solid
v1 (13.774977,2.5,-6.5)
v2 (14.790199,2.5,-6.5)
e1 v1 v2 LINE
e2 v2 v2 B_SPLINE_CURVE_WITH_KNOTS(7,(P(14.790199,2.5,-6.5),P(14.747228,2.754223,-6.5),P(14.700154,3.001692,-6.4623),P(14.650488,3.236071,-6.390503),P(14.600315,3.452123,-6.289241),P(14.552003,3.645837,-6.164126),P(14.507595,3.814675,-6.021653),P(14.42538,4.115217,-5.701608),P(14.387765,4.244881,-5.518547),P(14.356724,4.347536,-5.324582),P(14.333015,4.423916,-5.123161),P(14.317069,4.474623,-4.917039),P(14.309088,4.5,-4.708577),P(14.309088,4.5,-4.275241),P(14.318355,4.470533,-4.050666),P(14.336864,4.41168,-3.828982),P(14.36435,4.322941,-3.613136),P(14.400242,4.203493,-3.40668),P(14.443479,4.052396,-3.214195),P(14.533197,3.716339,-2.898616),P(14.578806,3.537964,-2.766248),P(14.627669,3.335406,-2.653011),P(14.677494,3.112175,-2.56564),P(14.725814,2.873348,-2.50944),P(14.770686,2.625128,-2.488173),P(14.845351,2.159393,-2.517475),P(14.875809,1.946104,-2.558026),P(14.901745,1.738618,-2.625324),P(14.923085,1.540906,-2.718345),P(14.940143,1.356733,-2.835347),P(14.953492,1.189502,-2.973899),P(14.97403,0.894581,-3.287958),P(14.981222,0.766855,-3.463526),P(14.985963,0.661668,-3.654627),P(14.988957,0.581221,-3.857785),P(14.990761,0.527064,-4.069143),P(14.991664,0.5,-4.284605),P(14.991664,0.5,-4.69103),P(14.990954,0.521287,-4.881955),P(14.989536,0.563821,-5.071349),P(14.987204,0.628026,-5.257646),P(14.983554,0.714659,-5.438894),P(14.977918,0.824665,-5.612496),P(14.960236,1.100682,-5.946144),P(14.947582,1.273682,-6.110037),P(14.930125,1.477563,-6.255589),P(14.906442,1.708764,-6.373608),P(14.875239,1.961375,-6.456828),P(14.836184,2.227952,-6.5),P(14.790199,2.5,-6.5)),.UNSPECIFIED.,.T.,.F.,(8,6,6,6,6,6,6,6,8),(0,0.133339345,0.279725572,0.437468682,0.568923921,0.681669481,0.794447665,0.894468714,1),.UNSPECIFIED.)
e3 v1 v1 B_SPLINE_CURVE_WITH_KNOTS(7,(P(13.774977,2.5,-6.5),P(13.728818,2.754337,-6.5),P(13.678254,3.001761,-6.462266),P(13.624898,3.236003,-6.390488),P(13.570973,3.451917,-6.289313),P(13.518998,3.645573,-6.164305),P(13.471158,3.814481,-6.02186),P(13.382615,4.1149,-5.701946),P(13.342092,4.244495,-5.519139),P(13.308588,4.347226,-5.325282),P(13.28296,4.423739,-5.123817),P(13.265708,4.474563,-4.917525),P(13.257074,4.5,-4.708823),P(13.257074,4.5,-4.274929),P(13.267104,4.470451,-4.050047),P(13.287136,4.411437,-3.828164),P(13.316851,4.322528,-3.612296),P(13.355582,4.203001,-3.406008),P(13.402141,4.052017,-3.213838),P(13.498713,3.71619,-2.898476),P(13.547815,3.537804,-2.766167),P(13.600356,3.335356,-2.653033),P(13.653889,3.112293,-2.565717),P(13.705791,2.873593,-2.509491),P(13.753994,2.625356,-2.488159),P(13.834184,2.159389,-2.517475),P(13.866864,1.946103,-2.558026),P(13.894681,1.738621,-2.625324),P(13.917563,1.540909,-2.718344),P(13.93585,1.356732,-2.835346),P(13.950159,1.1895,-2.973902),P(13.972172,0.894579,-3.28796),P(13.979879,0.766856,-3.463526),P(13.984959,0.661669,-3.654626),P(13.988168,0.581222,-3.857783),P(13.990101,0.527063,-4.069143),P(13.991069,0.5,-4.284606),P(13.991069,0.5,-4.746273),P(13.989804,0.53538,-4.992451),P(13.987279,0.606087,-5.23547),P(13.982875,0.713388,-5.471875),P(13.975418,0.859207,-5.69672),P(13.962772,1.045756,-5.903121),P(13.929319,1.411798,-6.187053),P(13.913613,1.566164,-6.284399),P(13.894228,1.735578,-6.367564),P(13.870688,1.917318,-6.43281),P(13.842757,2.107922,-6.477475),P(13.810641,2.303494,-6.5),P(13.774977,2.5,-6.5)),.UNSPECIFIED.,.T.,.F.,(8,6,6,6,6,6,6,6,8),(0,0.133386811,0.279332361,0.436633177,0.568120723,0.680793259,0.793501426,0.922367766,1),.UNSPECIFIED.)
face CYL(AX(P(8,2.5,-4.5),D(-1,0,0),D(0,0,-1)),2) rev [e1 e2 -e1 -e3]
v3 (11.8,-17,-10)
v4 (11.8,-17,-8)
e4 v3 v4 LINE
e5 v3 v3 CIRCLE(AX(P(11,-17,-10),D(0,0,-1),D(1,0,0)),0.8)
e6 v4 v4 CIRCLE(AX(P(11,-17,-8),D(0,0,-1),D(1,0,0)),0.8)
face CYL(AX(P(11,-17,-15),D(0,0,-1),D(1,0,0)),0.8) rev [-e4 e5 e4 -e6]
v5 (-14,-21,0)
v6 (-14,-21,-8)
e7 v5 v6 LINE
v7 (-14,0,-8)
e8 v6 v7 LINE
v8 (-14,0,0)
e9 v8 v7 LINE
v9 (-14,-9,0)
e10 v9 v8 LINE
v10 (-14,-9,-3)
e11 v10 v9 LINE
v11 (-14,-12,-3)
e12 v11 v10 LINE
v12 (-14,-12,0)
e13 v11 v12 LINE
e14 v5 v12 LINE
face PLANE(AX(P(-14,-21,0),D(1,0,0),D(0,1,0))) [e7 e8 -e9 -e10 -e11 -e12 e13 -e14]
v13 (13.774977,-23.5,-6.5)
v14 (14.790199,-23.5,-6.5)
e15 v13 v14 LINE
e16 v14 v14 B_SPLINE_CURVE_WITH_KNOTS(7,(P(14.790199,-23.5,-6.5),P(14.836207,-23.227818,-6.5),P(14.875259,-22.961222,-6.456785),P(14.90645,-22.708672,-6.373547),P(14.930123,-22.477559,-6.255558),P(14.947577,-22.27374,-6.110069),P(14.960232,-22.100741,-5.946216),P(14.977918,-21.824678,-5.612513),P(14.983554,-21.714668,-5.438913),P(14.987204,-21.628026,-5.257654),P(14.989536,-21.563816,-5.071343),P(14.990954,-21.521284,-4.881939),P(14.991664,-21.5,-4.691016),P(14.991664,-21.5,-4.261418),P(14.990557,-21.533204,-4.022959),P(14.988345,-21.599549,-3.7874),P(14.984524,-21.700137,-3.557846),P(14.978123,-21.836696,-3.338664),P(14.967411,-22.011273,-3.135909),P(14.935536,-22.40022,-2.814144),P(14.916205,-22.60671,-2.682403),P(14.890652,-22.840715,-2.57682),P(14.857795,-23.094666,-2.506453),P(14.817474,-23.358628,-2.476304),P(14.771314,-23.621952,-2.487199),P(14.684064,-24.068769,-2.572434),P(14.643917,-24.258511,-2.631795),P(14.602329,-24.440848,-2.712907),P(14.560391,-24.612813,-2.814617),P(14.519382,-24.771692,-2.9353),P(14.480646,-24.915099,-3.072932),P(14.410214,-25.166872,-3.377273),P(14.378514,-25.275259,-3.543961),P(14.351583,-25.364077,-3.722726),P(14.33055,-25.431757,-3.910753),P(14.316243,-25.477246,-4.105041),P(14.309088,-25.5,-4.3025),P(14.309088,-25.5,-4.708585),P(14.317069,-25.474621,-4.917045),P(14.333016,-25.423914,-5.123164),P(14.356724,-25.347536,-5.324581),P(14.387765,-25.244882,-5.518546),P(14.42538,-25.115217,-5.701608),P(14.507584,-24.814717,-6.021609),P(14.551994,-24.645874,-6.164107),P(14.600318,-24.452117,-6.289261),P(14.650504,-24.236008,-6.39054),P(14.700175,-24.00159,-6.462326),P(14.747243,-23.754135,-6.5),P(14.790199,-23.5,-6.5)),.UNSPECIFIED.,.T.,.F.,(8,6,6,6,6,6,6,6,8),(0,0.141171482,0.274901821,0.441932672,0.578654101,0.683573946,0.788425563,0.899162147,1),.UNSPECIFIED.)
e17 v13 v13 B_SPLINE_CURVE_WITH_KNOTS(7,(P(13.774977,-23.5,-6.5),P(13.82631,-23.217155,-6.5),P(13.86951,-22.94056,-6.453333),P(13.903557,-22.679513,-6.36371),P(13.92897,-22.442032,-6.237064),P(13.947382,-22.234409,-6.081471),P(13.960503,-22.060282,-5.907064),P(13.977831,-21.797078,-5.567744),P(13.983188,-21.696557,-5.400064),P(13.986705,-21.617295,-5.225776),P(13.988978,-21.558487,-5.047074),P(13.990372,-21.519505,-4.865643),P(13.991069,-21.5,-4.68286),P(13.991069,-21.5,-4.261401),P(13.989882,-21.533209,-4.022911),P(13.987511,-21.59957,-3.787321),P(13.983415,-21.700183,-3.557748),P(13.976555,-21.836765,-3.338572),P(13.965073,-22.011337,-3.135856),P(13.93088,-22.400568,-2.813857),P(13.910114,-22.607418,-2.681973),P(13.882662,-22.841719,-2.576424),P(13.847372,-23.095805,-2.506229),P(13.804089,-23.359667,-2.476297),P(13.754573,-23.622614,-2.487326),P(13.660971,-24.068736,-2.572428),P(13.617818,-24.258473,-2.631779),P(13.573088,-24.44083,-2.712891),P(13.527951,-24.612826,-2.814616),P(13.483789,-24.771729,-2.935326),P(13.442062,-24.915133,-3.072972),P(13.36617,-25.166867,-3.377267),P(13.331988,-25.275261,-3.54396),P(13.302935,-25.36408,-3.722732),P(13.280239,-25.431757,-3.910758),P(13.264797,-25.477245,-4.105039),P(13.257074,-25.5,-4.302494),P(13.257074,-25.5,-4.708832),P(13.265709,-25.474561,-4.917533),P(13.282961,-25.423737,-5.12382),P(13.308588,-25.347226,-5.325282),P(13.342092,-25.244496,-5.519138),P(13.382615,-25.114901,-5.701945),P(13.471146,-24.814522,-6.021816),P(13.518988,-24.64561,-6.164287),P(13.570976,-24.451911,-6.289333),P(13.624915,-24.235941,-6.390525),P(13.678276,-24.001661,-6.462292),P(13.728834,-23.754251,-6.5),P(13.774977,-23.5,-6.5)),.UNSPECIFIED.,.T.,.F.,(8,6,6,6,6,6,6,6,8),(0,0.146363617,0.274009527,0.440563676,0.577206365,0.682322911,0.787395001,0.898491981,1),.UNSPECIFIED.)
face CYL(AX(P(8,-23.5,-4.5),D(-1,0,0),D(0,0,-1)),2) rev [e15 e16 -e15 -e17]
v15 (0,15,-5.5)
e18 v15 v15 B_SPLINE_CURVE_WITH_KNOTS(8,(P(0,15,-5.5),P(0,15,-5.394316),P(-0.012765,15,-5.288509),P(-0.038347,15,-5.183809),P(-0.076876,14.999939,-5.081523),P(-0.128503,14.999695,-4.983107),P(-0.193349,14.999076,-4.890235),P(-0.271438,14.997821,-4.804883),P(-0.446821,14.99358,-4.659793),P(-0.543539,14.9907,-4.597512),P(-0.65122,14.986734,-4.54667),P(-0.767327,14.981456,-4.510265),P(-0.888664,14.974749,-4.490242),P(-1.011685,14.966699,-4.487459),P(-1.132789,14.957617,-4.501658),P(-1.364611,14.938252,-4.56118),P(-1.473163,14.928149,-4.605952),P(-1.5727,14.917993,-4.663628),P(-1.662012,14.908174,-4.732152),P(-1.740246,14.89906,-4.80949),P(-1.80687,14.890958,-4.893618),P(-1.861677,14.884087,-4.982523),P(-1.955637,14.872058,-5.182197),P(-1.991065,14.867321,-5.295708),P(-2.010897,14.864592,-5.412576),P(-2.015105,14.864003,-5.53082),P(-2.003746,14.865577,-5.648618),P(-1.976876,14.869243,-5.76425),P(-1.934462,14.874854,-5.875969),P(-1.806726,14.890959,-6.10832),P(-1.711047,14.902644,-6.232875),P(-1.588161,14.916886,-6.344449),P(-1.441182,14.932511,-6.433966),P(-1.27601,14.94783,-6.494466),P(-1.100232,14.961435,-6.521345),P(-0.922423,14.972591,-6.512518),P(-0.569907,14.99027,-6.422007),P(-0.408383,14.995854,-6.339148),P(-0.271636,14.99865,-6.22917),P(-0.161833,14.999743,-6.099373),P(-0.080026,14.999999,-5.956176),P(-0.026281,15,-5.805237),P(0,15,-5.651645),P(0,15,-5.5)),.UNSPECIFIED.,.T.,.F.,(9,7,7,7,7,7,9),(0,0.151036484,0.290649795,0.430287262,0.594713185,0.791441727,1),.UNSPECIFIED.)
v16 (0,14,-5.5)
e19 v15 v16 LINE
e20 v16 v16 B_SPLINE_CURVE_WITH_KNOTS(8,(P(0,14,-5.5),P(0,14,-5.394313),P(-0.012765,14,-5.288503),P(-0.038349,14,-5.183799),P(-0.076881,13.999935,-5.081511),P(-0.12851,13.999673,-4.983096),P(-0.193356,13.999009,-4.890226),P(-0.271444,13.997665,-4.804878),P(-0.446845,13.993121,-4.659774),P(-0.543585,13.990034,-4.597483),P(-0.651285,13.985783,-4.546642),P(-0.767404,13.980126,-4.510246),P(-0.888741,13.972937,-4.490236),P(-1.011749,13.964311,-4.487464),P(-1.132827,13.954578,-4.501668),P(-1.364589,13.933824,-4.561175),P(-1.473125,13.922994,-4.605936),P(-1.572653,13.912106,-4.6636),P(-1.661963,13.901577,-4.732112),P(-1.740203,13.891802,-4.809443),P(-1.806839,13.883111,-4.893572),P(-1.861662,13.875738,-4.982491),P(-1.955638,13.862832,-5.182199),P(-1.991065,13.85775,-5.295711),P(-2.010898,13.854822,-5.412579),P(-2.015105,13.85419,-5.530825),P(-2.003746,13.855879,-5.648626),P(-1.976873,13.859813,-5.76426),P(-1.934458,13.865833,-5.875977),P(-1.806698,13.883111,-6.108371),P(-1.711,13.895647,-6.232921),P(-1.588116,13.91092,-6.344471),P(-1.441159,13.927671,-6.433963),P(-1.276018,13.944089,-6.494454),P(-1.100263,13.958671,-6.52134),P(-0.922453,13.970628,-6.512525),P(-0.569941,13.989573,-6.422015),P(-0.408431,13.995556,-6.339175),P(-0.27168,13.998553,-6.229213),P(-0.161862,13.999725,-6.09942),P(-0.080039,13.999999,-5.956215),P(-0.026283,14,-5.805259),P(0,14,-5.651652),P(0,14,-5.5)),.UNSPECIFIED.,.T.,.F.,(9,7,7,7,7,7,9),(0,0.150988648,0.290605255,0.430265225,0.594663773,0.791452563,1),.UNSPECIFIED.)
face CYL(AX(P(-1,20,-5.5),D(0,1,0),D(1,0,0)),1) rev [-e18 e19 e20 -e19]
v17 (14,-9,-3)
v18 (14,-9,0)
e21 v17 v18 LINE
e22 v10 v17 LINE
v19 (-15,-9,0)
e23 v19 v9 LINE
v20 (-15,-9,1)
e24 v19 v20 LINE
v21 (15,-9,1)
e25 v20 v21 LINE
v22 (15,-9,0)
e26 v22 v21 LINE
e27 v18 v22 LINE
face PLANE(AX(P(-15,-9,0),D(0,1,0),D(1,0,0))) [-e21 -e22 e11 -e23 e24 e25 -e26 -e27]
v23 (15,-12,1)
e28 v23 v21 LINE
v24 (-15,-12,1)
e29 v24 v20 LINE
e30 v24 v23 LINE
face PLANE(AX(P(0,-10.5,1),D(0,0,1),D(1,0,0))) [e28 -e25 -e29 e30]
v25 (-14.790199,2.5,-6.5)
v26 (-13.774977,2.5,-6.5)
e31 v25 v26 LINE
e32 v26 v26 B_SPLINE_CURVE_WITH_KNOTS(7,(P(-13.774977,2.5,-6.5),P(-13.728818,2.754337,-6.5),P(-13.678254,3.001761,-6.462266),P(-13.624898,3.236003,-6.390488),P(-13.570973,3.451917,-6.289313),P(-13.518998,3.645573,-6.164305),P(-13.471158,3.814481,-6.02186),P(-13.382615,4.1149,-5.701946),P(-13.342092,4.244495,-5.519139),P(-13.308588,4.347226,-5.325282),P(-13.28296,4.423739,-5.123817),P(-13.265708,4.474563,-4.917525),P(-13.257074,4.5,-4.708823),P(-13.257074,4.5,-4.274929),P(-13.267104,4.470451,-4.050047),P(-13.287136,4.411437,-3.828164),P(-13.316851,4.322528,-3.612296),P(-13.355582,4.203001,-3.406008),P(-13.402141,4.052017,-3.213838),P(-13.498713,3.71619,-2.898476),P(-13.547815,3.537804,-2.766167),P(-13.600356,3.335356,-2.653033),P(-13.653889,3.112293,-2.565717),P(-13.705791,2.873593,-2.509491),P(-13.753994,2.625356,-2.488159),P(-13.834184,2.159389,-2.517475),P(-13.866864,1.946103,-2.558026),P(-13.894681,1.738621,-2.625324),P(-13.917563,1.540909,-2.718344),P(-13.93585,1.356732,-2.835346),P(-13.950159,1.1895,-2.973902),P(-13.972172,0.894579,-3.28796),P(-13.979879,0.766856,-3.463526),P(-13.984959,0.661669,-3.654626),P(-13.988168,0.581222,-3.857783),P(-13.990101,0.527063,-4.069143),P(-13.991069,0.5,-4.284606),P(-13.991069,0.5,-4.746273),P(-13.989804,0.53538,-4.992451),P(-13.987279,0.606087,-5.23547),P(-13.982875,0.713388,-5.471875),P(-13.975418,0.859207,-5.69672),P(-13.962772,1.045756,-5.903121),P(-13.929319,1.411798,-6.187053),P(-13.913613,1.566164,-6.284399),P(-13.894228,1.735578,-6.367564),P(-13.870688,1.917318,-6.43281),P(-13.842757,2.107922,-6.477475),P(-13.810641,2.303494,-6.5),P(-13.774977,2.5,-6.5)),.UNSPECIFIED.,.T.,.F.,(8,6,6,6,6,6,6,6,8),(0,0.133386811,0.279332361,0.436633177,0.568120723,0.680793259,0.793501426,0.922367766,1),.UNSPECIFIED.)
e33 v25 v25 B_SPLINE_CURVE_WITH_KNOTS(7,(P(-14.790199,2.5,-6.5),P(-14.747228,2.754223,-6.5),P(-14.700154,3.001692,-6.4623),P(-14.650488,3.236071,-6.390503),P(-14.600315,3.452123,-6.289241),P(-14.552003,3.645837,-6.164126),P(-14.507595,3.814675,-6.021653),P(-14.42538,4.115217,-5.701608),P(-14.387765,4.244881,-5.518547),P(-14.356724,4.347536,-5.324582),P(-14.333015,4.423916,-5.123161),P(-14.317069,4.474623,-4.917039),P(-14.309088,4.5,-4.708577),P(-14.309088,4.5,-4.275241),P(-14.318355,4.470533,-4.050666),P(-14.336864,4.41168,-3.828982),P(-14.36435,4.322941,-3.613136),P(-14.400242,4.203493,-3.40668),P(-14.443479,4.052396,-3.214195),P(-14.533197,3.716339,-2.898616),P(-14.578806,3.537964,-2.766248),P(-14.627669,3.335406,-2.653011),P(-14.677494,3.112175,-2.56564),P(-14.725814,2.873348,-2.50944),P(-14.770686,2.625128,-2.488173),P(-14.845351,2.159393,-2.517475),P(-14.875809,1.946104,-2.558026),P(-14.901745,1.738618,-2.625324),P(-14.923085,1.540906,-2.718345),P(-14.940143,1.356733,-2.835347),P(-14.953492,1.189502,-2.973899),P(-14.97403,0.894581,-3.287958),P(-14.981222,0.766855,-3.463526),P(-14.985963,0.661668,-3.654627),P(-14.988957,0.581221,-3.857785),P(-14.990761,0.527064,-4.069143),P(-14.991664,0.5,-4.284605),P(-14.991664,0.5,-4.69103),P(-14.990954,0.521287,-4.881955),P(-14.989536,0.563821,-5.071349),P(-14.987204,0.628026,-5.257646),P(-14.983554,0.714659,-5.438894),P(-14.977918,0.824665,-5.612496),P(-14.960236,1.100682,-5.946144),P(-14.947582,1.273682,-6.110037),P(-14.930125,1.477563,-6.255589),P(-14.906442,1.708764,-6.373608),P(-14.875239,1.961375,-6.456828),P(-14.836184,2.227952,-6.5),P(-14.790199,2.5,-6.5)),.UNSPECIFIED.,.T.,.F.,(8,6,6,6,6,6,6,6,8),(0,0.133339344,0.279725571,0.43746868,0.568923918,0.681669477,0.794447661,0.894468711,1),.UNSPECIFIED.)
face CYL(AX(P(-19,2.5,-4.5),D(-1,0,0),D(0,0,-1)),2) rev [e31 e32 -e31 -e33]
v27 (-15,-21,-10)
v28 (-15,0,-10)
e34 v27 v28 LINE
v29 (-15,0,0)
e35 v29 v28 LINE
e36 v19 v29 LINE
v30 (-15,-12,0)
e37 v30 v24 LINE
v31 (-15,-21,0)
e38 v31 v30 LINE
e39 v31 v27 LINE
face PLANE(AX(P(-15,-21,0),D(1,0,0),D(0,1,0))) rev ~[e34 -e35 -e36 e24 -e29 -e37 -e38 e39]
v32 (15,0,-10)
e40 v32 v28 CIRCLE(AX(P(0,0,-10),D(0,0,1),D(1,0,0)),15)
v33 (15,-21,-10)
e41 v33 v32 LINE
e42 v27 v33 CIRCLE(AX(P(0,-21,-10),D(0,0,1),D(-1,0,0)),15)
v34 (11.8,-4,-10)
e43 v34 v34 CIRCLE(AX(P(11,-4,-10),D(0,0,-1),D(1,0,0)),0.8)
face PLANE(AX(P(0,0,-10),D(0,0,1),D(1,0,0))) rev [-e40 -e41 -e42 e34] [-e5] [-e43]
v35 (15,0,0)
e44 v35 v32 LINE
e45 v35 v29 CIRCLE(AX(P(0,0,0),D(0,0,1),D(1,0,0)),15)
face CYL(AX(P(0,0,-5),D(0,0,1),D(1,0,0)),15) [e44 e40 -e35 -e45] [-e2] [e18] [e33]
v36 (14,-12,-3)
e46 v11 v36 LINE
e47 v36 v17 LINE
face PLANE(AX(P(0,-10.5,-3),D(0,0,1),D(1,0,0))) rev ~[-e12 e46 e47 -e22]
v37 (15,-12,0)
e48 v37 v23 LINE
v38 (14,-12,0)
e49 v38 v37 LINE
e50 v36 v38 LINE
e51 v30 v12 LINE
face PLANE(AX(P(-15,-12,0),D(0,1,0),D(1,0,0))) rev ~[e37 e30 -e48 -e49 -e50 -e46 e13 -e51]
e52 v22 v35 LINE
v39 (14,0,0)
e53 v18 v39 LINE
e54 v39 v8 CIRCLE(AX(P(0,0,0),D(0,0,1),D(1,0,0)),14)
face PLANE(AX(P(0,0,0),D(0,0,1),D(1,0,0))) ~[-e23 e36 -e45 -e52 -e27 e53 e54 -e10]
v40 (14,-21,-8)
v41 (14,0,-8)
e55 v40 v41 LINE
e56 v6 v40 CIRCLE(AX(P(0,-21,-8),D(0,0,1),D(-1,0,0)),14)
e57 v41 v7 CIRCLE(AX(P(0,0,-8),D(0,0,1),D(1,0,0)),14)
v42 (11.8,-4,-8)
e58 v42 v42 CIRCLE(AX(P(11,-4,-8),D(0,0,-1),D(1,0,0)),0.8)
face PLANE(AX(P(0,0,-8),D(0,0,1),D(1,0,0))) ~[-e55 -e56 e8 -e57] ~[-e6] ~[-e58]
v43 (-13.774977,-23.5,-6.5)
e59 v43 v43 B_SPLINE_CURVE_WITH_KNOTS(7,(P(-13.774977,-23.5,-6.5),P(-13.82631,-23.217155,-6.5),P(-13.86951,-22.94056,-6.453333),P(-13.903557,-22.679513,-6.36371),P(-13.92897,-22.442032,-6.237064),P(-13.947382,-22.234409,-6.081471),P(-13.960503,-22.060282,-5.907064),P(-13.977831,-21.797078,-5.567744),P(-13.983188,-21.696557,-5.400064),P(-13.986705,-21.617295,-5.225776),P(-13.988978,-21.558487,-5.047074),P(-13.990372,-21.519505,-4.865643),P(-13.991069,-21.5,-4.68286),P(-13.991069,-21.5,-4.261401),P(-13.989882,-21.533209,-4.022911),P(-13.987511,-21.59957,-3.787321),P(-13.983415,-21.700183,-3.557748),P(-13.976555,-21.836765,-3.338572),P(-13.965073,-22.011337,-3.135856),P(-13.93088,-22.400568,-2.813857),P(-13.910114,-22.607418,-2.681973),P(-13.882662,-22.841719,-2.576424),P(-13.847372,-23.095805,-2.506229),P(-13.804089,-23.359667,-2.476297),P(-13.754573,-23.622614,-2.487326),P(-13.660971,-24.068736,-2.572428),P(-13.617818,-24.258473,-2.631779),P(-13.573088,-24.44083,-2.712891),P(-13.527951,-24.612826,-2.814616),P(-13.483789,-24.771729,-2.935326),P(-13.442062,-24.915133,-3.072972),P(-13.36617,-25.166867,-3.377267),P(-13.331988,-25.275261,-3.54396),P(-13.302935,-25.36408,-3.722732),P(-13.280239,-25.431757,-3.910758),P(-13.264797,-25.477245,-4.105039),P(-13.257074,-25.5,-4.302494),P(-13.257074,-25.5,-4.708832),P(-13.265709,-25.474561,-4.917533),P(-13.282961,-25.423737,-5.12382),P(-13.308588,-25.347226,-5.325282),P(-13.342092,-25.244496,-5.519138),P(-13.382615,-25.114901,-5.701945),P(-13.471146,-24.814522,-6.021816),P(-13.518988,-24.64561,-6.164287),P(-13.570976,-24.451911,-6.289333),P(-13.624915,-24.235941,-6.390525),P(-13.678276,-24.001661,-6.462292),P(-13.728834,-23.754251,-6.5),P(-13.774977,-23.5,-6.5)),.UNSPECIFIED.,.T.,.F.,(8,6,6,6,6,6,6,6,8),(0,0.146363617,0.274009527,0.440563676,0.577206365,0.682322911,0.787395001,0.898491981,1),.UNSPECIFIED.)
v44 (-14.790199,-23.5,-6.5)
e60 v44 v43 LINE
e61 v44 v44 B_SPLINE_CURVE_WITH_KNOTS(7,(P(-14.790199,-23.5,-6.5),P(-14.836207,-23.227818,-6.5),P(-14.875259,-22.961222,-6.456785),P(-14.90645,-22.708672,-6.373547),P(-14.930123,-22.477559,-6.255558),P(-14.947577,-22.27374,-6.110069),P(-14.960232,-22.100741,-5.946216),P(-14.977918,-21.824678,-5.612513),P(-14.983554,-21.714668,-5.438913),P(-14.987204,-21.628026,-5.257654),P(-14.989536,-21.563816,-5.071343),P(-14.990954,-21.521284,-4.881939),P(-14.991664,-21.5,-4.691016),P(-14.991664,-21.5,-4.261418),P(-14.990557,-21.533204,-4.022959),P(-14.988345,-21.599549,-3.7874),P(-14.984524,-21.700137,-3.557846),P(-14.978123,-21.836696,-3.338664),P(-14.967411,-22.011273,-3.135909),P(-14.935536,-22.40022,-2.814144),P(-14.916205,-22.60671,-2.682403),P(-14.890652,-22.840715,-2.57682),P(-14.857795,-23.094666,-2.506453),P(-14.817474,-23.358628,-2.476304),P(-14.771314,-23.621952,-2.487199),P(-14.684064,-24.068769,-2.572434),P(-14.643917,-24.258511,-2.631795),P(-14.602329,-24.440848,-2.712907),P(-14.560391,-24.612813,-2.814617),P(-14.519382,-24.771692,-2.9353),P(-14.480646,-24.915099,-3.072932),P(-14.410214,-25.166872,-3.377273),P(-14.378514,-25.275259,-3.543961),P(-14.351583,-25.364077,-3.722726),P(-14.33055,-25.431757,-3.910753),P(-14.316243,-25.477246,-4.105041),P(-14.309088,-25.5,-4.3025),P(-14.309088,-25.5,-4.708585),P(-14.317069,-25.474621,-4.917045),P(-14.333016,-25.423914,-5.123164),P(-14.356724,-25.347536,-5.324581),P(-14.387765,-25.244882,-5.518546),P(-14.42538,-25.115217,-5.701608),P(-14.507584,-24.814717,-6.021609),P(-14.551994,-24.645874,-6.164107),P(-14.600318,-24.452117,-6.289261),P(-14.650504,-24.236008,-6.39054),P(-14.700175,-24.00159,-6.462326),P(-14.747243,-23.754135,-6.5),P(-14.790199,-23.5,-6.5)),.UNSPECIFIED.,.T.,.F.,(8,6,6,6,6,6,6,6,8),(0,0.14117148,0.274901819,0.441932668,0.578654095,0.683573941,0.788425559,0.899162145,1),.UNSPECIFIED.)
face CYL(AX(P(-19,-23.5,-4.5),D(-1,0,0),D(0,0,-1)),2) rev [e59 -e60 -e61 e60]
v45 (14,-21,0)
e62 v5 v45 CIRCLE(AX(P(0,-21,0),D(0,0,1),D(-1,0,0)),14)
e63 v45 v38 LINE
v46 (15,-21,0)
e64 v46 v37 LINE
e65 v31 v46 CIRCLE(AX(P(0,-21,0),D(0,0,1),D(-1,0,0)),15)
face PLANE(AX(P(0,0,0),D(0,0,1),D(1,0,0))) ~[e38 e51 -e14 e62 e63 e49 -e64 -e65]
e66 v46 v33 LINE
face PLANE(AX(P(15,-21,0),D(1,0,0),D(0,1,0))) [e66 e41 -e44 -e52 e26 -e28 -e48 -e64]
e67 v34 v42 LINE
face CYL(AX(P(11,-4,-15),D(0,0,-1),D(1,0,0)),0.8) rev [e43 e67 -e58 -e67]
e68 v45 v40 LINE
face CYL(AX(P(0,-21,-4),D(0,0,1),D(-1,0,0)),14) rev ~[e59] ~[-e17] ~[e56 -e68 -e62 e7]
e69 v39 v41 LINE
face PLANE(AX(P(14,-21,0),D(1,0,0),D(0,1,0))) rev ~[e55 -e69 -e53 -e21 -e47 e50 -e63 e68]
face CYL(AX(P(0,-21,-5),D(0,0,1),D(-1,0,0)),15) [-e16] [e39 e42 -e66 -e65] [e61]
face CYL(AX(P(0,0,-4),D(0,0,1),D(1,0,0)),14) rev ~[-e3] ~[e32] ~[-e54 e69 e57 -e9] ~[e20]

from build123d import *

# Parameters (mm, degrees)
CYLINDER049_R           = 0.8
CYLINDER049_DEPTH       = 10
CYLINDER048_R           = 0.8
CYLINDER048_DEPTH       = 10
CYLINDER017_R           = 1
CYLINDER017_DEPTH       = 10
CYLINDER017_ROLL_ANGLE  = 90
CYLINDER011_R           = 2
CYLINDER011_DEPTH       = 10
CYLINDER011_PITCH_ANGLE = 90
CYLINDER014_R           = 2
CYLINDER014_DEPTH       = 10
CYLINDER014_PITCH_ANGLE = 90
CYLINDER013_R           = 2
CYLINDER013_DEPTH       = 10
CYLINDER013_PITCH_ANGLE = 90
CYLINDER015_R           = 2
CYLINDER015_DEPTH       = 10
CYLINDER015_PITCH_ANGLE = 90
CYLINDER002_W           = 14
CYLINDER002_H           = 8
CYLINDER002_ANGLE       = 180
CYLINDER001_W           = 15
CYLINDER001_H           = 10
CYLINDER001_ANGLE       = 180
CYLINDER003_W           = 14
CYLINDER003_H           = 8
CYLINDER003_ANGLE       = 180
CYLINDER_W              = 15
CYLINDER_H              = 10
CYLINDER_ANGLE          = 180
BOX001_W                = 28
BOX001_H                = 21
BOX001_DEPTH            = 8
BOX_W                   = 30
BOX_H                   = 21
BOX_DEPTH               = 10
FUSION_PLACEMENT_ANGLE  = 180
BOX014_W                = 28
BOX014_H                = 3
BOX014_DEPTH            = 3
BOX007_W                = 30
BOX007_H                = 3
BOX007_DEPTH            = 1


with BuildPart() as cilindro049:
    # Cylinder049 → Cylinder049 (new body)
    with BuildSketch(Plane(origin=(11, -17, -15), x_dir=(1, 0, 0), z_dir=(0, 0, 1))):
        Circle(CYLINDER049_R)
    extrude(amount=CYLINDER049_DEPTH)


with BuildPart() as cilindro048:
    # Cylinder048 → Cylinder048 (new body)
    with BuildSketch(Plane(origin=(11, -4, -15), x_dir=(1, 0, 0), z_dir=(0, 0, 1))):
        Circle(CYLINDER048_R)
    extrude(amount=CYLINDER048_DEPTH)


with BuildPart() as cilindro017:
    # Cylinder017 → Cylinder017 (new body)
    with BuildSketch(Plane.XY):
        Circle(CYLINDER017_R)
    extrude(amount=CYLINDER017_DEPTH)


with BuildPart() as cilindro017_1:
    # Cylinder017 roll: moved
    add(cilindro017.part.rotate(Axis((0, 0, 0), (1, 0, 0)), CYLINDER017_ROLL_ANGLE))


with BuildPart() as cilindro017_2:
    # Cylinder017 placement: moved
    add(cilindro017_1.part.moved(Location((-14, 90, 38.5))))


with BuildPart() as cilindro011:
    # Cylinder011 → Cylinder011 (new body)
    with BuildSketch(Plane.XY):
        Circle(CYLINDER011_R)
    extrude(amount=CYLINDER011_DEPTH)


with BuildPart() as cilindro011_1:
    # Cylinder011 pitch: moved
    add(cilindro011.part.rotate(Axis((0, 0, 0), (0, 1, 0)), CYLINDER011_PITCH_ANGLE))


with BuildPart() as cilindro011_2:
    # Cylinder011 placement: moved
    add(cilindro011_1.part.moved(Location((-32, 72.5, 39.5))))


with BuildPart() as cilindro014:
    # Cylinder014 → Cylinder014 (new body)
    with BuildSketch(Plane.XY):
        Circle(CYLINDER014_R)
    extrude(amount=CYLINDER014_DEPTH)


with BuildPart() as cilindro014_1:
    # Cylinder014 pitch: moved
    add(cilindro014.part.rotate(Axis((0, 0, 0), (0, 1, 0)), CYLINDER014_PITCH_ANGLE))


with BuildPart() as cilindro014_2:
    # Cylinder014 placement: moved
    add(cilindro014_1.part.moved(Location((-5, 46.5, 39.5))))


with BuildPart() as cilindro013:
    # Cylinder013 → Cylinder013 (new body)
    with BuildSketch(Plane.XY):
        Circle(CYLINDER013_R)
    extrude(amount=CYLINDER013_DEPTH)


with BuildPart() as cilindro013_1:
    # Cylinder013 pitch: moved
    add(cilindro013.part.rotate(Axis((0, 0, 0), (0, 1, 0)), CYLINDER013_PITCH_ANGLE))


with BuildPart() as cilindro013_2:
    # Cylinder013 placement: moved
    add(cilindro013_1.part.moved(Location((-32, 46.5, 39.5))))


with BuildPart() as cilindro015:
    # Cylinder015 → Cylinder015 (new body)
    with BuildSketch(Plane.XY):
        Circle(CYLINDER015_R)
    extrude(amount=CYLINDER015_DEPTH)


with BuildPart() as cilindro015_1:
    # Cylinder015 pitch: moved
    add(cilindro015.part.rotate(Axis((0, 0, 0), (0, 1, 0)), CYLINDER015_PITCH_ANGLE))


with BuildPart() as cilindro015_2:
    # Cylinder015 placement: moved
    add(cilindro015_1.part.moved(Location((-5, 72.5, 39.5))))


with BuildPart() as cilindro002:
    # Cylinder002 → Cylinder002 (revolve)
    with BuildSketch(Plane(origin=(16, 49, -36), x_dir=(1, 0, 0), z_dir=(0, 1, 0))):
        with Locations((7, 4)):
            Rectangle(CYLINDER002_W, CYLINDER002_H)
    revolve(axis=Axis((16, 49, -36), (0, 0, -1)), revolution_arc=CYLINDER002_ANGLE)


with BuildPart() as cut001:
    # Cylinder001 → Cylinder001 (revolve)
    with BuildSketch(Plane(origin=(16, 49, -34), x_dir=(1, 0, 0), z_dir=(0, 1, 0))):
        with Locations((7.5, 5)):
            Rectangle(CYLINDER001_W, CYLINDER001_H)
    revolve(axis=Axis((16, 49, -34), (0, 0, -1)), revolution_arc=CYLINDER001_ANGLE)

    # Cut001: cut Cilindro002
    add(cilindro002.part, mode=Mode.SUBTRACT)


with BuildPart() as cut001_1:
    # Cut001 placement: moved
    add(cut001.part.moved(Location((-3, 0, 0))))


with BuildPart() as cilindro003:
    # Cylinder003 → Cylinder003 (revolve)
    with BuildSketch(Plane(origin=(13, 70, -36), x_dir=(-1, 0, 0), z_dir=(0, -1, 0))):
        with Locations((7, 4)):
            Rectangle(CYLINDER003_W, CYLINDER003_H)
    revolve(axis=Axis((13, 70, -36), (0, 0, -1)), revolution_arc=CYLINDER003_ANGLE)


with BuildPart() as cut002:
    # Cylinder → Cylinder (revolve)
    with BuildSketch(Plane(origin=(13, 70, -34), x_dir=(-1, 0, 0), z_dir=(0, -1, 0))):
        with Locations((7.5, 5)):
            Rectangle(CYLINDER_W, CYLINDER_H)
    revolve(axis=Axis((13, 70, -34), (0, 0, -1)), revolution_arc=CYLINDER_ANGLE)

    # Cut002: cut Cilindro003
    add(cilindro003.part, mode=Mode.SUBTRACT)


with BuildPart() as cubo001:
    # Box001 → Box001 (new body)
    with BuildSketch(Plane(origin=(-1, 49, -44), x_dir=(1, 0, 0), z_dir=(0, 0, 1))):
        with Locations((14, 10.5)):
            Rectangle(BOX001_W, BOX001_H)
    extrude(amount=BOX001_DEPTH)


with BuildPart() as cut025:
    # Box → Box (new body)
    with BuildSketch(Plane(origin=(-2, 49, -44), x_dir=(1, 0, 0), z_dir=(0, 0, 1))):
        with Locations((15, 10.5)):
            Rectangle(BOX_W, BOX_H)
    extrude(amount=BOX_DEPTH)

    # Cut: cut Cubo001
    add(cubo001.part, mode=Mode.SUBTRACT)

    # Fusion: union Cut001, Cut002
    add(cut001_1.part)
    add(cut002.part)


with BuildPart() as cut025_1:
    # Fusion placement: moved
    add(cut025.part.rotate(Axis((0, 0, 0), (0, 1, 0)), FUSION_PLACEMENT_ANGLE))

    # Cut021: cut Cilindro015
    add(cilindro015_2.part, mode=Mode.SUBTRACT)

    # Cut022: cut Cilindro013
    add(cilindro013_2.part, mode=Mode.SUBTRACT)

    # Cut023: cut Cilindro014
    add(cilindro014_2.part, mode=Mode.SUBTRACT)

    # Cut024: cut Cilindro011
    add(cilindro011_2.part, mode=Mode.SUBTRACT)

    # Cut025: cut Cilindro017
    add(cilindro017_2.part, mode=Mode.SUBTRACT)


with BuildPart() as cubo014:
    # Box014 → Box014 (new body)
    with BuildSketch(Plane(origin=(-27, 58, 41), x_dir=(1, 0, 0), z_dir=(0, 0, 1))):
        with Locations((14, 1.5)):
            Rectangle(BOX014_W, BOX014_H)
    extrude(amount=BOX014_DEPTH)


with BuildPart() as cut068:
    # Box007 → Box007 (new body)
    with BuildSketch(Plane(origin=(-28, 58, 44), x_dir=(1, 0, 0), z_dir=(0, 0, 1))):
        with Locations((15, 1.5)):
            Rectangle(BOX007_W, BOX007_H)
    extrude(amount=BOX007_DEPTH)

    # Fusion002010: union Cubo014
    add(cubo014.part)

    # Fusion002015: union Cut025
    add(cut025_1.part)


with BuildPart() as cut068_1:
    # Fusion002015 placement: moved
    add(cut068.part.moved(Location((13, -70, -44))))

    # Cut067: cut Cilindro048
    add(cilindro048.part, mode=Mode.SUBTRACT)

    # Cut068: cut Cilindro049
    add(cilindro049.part, mode=Mode.SUBTRACT)


solid = cut068_1.part
